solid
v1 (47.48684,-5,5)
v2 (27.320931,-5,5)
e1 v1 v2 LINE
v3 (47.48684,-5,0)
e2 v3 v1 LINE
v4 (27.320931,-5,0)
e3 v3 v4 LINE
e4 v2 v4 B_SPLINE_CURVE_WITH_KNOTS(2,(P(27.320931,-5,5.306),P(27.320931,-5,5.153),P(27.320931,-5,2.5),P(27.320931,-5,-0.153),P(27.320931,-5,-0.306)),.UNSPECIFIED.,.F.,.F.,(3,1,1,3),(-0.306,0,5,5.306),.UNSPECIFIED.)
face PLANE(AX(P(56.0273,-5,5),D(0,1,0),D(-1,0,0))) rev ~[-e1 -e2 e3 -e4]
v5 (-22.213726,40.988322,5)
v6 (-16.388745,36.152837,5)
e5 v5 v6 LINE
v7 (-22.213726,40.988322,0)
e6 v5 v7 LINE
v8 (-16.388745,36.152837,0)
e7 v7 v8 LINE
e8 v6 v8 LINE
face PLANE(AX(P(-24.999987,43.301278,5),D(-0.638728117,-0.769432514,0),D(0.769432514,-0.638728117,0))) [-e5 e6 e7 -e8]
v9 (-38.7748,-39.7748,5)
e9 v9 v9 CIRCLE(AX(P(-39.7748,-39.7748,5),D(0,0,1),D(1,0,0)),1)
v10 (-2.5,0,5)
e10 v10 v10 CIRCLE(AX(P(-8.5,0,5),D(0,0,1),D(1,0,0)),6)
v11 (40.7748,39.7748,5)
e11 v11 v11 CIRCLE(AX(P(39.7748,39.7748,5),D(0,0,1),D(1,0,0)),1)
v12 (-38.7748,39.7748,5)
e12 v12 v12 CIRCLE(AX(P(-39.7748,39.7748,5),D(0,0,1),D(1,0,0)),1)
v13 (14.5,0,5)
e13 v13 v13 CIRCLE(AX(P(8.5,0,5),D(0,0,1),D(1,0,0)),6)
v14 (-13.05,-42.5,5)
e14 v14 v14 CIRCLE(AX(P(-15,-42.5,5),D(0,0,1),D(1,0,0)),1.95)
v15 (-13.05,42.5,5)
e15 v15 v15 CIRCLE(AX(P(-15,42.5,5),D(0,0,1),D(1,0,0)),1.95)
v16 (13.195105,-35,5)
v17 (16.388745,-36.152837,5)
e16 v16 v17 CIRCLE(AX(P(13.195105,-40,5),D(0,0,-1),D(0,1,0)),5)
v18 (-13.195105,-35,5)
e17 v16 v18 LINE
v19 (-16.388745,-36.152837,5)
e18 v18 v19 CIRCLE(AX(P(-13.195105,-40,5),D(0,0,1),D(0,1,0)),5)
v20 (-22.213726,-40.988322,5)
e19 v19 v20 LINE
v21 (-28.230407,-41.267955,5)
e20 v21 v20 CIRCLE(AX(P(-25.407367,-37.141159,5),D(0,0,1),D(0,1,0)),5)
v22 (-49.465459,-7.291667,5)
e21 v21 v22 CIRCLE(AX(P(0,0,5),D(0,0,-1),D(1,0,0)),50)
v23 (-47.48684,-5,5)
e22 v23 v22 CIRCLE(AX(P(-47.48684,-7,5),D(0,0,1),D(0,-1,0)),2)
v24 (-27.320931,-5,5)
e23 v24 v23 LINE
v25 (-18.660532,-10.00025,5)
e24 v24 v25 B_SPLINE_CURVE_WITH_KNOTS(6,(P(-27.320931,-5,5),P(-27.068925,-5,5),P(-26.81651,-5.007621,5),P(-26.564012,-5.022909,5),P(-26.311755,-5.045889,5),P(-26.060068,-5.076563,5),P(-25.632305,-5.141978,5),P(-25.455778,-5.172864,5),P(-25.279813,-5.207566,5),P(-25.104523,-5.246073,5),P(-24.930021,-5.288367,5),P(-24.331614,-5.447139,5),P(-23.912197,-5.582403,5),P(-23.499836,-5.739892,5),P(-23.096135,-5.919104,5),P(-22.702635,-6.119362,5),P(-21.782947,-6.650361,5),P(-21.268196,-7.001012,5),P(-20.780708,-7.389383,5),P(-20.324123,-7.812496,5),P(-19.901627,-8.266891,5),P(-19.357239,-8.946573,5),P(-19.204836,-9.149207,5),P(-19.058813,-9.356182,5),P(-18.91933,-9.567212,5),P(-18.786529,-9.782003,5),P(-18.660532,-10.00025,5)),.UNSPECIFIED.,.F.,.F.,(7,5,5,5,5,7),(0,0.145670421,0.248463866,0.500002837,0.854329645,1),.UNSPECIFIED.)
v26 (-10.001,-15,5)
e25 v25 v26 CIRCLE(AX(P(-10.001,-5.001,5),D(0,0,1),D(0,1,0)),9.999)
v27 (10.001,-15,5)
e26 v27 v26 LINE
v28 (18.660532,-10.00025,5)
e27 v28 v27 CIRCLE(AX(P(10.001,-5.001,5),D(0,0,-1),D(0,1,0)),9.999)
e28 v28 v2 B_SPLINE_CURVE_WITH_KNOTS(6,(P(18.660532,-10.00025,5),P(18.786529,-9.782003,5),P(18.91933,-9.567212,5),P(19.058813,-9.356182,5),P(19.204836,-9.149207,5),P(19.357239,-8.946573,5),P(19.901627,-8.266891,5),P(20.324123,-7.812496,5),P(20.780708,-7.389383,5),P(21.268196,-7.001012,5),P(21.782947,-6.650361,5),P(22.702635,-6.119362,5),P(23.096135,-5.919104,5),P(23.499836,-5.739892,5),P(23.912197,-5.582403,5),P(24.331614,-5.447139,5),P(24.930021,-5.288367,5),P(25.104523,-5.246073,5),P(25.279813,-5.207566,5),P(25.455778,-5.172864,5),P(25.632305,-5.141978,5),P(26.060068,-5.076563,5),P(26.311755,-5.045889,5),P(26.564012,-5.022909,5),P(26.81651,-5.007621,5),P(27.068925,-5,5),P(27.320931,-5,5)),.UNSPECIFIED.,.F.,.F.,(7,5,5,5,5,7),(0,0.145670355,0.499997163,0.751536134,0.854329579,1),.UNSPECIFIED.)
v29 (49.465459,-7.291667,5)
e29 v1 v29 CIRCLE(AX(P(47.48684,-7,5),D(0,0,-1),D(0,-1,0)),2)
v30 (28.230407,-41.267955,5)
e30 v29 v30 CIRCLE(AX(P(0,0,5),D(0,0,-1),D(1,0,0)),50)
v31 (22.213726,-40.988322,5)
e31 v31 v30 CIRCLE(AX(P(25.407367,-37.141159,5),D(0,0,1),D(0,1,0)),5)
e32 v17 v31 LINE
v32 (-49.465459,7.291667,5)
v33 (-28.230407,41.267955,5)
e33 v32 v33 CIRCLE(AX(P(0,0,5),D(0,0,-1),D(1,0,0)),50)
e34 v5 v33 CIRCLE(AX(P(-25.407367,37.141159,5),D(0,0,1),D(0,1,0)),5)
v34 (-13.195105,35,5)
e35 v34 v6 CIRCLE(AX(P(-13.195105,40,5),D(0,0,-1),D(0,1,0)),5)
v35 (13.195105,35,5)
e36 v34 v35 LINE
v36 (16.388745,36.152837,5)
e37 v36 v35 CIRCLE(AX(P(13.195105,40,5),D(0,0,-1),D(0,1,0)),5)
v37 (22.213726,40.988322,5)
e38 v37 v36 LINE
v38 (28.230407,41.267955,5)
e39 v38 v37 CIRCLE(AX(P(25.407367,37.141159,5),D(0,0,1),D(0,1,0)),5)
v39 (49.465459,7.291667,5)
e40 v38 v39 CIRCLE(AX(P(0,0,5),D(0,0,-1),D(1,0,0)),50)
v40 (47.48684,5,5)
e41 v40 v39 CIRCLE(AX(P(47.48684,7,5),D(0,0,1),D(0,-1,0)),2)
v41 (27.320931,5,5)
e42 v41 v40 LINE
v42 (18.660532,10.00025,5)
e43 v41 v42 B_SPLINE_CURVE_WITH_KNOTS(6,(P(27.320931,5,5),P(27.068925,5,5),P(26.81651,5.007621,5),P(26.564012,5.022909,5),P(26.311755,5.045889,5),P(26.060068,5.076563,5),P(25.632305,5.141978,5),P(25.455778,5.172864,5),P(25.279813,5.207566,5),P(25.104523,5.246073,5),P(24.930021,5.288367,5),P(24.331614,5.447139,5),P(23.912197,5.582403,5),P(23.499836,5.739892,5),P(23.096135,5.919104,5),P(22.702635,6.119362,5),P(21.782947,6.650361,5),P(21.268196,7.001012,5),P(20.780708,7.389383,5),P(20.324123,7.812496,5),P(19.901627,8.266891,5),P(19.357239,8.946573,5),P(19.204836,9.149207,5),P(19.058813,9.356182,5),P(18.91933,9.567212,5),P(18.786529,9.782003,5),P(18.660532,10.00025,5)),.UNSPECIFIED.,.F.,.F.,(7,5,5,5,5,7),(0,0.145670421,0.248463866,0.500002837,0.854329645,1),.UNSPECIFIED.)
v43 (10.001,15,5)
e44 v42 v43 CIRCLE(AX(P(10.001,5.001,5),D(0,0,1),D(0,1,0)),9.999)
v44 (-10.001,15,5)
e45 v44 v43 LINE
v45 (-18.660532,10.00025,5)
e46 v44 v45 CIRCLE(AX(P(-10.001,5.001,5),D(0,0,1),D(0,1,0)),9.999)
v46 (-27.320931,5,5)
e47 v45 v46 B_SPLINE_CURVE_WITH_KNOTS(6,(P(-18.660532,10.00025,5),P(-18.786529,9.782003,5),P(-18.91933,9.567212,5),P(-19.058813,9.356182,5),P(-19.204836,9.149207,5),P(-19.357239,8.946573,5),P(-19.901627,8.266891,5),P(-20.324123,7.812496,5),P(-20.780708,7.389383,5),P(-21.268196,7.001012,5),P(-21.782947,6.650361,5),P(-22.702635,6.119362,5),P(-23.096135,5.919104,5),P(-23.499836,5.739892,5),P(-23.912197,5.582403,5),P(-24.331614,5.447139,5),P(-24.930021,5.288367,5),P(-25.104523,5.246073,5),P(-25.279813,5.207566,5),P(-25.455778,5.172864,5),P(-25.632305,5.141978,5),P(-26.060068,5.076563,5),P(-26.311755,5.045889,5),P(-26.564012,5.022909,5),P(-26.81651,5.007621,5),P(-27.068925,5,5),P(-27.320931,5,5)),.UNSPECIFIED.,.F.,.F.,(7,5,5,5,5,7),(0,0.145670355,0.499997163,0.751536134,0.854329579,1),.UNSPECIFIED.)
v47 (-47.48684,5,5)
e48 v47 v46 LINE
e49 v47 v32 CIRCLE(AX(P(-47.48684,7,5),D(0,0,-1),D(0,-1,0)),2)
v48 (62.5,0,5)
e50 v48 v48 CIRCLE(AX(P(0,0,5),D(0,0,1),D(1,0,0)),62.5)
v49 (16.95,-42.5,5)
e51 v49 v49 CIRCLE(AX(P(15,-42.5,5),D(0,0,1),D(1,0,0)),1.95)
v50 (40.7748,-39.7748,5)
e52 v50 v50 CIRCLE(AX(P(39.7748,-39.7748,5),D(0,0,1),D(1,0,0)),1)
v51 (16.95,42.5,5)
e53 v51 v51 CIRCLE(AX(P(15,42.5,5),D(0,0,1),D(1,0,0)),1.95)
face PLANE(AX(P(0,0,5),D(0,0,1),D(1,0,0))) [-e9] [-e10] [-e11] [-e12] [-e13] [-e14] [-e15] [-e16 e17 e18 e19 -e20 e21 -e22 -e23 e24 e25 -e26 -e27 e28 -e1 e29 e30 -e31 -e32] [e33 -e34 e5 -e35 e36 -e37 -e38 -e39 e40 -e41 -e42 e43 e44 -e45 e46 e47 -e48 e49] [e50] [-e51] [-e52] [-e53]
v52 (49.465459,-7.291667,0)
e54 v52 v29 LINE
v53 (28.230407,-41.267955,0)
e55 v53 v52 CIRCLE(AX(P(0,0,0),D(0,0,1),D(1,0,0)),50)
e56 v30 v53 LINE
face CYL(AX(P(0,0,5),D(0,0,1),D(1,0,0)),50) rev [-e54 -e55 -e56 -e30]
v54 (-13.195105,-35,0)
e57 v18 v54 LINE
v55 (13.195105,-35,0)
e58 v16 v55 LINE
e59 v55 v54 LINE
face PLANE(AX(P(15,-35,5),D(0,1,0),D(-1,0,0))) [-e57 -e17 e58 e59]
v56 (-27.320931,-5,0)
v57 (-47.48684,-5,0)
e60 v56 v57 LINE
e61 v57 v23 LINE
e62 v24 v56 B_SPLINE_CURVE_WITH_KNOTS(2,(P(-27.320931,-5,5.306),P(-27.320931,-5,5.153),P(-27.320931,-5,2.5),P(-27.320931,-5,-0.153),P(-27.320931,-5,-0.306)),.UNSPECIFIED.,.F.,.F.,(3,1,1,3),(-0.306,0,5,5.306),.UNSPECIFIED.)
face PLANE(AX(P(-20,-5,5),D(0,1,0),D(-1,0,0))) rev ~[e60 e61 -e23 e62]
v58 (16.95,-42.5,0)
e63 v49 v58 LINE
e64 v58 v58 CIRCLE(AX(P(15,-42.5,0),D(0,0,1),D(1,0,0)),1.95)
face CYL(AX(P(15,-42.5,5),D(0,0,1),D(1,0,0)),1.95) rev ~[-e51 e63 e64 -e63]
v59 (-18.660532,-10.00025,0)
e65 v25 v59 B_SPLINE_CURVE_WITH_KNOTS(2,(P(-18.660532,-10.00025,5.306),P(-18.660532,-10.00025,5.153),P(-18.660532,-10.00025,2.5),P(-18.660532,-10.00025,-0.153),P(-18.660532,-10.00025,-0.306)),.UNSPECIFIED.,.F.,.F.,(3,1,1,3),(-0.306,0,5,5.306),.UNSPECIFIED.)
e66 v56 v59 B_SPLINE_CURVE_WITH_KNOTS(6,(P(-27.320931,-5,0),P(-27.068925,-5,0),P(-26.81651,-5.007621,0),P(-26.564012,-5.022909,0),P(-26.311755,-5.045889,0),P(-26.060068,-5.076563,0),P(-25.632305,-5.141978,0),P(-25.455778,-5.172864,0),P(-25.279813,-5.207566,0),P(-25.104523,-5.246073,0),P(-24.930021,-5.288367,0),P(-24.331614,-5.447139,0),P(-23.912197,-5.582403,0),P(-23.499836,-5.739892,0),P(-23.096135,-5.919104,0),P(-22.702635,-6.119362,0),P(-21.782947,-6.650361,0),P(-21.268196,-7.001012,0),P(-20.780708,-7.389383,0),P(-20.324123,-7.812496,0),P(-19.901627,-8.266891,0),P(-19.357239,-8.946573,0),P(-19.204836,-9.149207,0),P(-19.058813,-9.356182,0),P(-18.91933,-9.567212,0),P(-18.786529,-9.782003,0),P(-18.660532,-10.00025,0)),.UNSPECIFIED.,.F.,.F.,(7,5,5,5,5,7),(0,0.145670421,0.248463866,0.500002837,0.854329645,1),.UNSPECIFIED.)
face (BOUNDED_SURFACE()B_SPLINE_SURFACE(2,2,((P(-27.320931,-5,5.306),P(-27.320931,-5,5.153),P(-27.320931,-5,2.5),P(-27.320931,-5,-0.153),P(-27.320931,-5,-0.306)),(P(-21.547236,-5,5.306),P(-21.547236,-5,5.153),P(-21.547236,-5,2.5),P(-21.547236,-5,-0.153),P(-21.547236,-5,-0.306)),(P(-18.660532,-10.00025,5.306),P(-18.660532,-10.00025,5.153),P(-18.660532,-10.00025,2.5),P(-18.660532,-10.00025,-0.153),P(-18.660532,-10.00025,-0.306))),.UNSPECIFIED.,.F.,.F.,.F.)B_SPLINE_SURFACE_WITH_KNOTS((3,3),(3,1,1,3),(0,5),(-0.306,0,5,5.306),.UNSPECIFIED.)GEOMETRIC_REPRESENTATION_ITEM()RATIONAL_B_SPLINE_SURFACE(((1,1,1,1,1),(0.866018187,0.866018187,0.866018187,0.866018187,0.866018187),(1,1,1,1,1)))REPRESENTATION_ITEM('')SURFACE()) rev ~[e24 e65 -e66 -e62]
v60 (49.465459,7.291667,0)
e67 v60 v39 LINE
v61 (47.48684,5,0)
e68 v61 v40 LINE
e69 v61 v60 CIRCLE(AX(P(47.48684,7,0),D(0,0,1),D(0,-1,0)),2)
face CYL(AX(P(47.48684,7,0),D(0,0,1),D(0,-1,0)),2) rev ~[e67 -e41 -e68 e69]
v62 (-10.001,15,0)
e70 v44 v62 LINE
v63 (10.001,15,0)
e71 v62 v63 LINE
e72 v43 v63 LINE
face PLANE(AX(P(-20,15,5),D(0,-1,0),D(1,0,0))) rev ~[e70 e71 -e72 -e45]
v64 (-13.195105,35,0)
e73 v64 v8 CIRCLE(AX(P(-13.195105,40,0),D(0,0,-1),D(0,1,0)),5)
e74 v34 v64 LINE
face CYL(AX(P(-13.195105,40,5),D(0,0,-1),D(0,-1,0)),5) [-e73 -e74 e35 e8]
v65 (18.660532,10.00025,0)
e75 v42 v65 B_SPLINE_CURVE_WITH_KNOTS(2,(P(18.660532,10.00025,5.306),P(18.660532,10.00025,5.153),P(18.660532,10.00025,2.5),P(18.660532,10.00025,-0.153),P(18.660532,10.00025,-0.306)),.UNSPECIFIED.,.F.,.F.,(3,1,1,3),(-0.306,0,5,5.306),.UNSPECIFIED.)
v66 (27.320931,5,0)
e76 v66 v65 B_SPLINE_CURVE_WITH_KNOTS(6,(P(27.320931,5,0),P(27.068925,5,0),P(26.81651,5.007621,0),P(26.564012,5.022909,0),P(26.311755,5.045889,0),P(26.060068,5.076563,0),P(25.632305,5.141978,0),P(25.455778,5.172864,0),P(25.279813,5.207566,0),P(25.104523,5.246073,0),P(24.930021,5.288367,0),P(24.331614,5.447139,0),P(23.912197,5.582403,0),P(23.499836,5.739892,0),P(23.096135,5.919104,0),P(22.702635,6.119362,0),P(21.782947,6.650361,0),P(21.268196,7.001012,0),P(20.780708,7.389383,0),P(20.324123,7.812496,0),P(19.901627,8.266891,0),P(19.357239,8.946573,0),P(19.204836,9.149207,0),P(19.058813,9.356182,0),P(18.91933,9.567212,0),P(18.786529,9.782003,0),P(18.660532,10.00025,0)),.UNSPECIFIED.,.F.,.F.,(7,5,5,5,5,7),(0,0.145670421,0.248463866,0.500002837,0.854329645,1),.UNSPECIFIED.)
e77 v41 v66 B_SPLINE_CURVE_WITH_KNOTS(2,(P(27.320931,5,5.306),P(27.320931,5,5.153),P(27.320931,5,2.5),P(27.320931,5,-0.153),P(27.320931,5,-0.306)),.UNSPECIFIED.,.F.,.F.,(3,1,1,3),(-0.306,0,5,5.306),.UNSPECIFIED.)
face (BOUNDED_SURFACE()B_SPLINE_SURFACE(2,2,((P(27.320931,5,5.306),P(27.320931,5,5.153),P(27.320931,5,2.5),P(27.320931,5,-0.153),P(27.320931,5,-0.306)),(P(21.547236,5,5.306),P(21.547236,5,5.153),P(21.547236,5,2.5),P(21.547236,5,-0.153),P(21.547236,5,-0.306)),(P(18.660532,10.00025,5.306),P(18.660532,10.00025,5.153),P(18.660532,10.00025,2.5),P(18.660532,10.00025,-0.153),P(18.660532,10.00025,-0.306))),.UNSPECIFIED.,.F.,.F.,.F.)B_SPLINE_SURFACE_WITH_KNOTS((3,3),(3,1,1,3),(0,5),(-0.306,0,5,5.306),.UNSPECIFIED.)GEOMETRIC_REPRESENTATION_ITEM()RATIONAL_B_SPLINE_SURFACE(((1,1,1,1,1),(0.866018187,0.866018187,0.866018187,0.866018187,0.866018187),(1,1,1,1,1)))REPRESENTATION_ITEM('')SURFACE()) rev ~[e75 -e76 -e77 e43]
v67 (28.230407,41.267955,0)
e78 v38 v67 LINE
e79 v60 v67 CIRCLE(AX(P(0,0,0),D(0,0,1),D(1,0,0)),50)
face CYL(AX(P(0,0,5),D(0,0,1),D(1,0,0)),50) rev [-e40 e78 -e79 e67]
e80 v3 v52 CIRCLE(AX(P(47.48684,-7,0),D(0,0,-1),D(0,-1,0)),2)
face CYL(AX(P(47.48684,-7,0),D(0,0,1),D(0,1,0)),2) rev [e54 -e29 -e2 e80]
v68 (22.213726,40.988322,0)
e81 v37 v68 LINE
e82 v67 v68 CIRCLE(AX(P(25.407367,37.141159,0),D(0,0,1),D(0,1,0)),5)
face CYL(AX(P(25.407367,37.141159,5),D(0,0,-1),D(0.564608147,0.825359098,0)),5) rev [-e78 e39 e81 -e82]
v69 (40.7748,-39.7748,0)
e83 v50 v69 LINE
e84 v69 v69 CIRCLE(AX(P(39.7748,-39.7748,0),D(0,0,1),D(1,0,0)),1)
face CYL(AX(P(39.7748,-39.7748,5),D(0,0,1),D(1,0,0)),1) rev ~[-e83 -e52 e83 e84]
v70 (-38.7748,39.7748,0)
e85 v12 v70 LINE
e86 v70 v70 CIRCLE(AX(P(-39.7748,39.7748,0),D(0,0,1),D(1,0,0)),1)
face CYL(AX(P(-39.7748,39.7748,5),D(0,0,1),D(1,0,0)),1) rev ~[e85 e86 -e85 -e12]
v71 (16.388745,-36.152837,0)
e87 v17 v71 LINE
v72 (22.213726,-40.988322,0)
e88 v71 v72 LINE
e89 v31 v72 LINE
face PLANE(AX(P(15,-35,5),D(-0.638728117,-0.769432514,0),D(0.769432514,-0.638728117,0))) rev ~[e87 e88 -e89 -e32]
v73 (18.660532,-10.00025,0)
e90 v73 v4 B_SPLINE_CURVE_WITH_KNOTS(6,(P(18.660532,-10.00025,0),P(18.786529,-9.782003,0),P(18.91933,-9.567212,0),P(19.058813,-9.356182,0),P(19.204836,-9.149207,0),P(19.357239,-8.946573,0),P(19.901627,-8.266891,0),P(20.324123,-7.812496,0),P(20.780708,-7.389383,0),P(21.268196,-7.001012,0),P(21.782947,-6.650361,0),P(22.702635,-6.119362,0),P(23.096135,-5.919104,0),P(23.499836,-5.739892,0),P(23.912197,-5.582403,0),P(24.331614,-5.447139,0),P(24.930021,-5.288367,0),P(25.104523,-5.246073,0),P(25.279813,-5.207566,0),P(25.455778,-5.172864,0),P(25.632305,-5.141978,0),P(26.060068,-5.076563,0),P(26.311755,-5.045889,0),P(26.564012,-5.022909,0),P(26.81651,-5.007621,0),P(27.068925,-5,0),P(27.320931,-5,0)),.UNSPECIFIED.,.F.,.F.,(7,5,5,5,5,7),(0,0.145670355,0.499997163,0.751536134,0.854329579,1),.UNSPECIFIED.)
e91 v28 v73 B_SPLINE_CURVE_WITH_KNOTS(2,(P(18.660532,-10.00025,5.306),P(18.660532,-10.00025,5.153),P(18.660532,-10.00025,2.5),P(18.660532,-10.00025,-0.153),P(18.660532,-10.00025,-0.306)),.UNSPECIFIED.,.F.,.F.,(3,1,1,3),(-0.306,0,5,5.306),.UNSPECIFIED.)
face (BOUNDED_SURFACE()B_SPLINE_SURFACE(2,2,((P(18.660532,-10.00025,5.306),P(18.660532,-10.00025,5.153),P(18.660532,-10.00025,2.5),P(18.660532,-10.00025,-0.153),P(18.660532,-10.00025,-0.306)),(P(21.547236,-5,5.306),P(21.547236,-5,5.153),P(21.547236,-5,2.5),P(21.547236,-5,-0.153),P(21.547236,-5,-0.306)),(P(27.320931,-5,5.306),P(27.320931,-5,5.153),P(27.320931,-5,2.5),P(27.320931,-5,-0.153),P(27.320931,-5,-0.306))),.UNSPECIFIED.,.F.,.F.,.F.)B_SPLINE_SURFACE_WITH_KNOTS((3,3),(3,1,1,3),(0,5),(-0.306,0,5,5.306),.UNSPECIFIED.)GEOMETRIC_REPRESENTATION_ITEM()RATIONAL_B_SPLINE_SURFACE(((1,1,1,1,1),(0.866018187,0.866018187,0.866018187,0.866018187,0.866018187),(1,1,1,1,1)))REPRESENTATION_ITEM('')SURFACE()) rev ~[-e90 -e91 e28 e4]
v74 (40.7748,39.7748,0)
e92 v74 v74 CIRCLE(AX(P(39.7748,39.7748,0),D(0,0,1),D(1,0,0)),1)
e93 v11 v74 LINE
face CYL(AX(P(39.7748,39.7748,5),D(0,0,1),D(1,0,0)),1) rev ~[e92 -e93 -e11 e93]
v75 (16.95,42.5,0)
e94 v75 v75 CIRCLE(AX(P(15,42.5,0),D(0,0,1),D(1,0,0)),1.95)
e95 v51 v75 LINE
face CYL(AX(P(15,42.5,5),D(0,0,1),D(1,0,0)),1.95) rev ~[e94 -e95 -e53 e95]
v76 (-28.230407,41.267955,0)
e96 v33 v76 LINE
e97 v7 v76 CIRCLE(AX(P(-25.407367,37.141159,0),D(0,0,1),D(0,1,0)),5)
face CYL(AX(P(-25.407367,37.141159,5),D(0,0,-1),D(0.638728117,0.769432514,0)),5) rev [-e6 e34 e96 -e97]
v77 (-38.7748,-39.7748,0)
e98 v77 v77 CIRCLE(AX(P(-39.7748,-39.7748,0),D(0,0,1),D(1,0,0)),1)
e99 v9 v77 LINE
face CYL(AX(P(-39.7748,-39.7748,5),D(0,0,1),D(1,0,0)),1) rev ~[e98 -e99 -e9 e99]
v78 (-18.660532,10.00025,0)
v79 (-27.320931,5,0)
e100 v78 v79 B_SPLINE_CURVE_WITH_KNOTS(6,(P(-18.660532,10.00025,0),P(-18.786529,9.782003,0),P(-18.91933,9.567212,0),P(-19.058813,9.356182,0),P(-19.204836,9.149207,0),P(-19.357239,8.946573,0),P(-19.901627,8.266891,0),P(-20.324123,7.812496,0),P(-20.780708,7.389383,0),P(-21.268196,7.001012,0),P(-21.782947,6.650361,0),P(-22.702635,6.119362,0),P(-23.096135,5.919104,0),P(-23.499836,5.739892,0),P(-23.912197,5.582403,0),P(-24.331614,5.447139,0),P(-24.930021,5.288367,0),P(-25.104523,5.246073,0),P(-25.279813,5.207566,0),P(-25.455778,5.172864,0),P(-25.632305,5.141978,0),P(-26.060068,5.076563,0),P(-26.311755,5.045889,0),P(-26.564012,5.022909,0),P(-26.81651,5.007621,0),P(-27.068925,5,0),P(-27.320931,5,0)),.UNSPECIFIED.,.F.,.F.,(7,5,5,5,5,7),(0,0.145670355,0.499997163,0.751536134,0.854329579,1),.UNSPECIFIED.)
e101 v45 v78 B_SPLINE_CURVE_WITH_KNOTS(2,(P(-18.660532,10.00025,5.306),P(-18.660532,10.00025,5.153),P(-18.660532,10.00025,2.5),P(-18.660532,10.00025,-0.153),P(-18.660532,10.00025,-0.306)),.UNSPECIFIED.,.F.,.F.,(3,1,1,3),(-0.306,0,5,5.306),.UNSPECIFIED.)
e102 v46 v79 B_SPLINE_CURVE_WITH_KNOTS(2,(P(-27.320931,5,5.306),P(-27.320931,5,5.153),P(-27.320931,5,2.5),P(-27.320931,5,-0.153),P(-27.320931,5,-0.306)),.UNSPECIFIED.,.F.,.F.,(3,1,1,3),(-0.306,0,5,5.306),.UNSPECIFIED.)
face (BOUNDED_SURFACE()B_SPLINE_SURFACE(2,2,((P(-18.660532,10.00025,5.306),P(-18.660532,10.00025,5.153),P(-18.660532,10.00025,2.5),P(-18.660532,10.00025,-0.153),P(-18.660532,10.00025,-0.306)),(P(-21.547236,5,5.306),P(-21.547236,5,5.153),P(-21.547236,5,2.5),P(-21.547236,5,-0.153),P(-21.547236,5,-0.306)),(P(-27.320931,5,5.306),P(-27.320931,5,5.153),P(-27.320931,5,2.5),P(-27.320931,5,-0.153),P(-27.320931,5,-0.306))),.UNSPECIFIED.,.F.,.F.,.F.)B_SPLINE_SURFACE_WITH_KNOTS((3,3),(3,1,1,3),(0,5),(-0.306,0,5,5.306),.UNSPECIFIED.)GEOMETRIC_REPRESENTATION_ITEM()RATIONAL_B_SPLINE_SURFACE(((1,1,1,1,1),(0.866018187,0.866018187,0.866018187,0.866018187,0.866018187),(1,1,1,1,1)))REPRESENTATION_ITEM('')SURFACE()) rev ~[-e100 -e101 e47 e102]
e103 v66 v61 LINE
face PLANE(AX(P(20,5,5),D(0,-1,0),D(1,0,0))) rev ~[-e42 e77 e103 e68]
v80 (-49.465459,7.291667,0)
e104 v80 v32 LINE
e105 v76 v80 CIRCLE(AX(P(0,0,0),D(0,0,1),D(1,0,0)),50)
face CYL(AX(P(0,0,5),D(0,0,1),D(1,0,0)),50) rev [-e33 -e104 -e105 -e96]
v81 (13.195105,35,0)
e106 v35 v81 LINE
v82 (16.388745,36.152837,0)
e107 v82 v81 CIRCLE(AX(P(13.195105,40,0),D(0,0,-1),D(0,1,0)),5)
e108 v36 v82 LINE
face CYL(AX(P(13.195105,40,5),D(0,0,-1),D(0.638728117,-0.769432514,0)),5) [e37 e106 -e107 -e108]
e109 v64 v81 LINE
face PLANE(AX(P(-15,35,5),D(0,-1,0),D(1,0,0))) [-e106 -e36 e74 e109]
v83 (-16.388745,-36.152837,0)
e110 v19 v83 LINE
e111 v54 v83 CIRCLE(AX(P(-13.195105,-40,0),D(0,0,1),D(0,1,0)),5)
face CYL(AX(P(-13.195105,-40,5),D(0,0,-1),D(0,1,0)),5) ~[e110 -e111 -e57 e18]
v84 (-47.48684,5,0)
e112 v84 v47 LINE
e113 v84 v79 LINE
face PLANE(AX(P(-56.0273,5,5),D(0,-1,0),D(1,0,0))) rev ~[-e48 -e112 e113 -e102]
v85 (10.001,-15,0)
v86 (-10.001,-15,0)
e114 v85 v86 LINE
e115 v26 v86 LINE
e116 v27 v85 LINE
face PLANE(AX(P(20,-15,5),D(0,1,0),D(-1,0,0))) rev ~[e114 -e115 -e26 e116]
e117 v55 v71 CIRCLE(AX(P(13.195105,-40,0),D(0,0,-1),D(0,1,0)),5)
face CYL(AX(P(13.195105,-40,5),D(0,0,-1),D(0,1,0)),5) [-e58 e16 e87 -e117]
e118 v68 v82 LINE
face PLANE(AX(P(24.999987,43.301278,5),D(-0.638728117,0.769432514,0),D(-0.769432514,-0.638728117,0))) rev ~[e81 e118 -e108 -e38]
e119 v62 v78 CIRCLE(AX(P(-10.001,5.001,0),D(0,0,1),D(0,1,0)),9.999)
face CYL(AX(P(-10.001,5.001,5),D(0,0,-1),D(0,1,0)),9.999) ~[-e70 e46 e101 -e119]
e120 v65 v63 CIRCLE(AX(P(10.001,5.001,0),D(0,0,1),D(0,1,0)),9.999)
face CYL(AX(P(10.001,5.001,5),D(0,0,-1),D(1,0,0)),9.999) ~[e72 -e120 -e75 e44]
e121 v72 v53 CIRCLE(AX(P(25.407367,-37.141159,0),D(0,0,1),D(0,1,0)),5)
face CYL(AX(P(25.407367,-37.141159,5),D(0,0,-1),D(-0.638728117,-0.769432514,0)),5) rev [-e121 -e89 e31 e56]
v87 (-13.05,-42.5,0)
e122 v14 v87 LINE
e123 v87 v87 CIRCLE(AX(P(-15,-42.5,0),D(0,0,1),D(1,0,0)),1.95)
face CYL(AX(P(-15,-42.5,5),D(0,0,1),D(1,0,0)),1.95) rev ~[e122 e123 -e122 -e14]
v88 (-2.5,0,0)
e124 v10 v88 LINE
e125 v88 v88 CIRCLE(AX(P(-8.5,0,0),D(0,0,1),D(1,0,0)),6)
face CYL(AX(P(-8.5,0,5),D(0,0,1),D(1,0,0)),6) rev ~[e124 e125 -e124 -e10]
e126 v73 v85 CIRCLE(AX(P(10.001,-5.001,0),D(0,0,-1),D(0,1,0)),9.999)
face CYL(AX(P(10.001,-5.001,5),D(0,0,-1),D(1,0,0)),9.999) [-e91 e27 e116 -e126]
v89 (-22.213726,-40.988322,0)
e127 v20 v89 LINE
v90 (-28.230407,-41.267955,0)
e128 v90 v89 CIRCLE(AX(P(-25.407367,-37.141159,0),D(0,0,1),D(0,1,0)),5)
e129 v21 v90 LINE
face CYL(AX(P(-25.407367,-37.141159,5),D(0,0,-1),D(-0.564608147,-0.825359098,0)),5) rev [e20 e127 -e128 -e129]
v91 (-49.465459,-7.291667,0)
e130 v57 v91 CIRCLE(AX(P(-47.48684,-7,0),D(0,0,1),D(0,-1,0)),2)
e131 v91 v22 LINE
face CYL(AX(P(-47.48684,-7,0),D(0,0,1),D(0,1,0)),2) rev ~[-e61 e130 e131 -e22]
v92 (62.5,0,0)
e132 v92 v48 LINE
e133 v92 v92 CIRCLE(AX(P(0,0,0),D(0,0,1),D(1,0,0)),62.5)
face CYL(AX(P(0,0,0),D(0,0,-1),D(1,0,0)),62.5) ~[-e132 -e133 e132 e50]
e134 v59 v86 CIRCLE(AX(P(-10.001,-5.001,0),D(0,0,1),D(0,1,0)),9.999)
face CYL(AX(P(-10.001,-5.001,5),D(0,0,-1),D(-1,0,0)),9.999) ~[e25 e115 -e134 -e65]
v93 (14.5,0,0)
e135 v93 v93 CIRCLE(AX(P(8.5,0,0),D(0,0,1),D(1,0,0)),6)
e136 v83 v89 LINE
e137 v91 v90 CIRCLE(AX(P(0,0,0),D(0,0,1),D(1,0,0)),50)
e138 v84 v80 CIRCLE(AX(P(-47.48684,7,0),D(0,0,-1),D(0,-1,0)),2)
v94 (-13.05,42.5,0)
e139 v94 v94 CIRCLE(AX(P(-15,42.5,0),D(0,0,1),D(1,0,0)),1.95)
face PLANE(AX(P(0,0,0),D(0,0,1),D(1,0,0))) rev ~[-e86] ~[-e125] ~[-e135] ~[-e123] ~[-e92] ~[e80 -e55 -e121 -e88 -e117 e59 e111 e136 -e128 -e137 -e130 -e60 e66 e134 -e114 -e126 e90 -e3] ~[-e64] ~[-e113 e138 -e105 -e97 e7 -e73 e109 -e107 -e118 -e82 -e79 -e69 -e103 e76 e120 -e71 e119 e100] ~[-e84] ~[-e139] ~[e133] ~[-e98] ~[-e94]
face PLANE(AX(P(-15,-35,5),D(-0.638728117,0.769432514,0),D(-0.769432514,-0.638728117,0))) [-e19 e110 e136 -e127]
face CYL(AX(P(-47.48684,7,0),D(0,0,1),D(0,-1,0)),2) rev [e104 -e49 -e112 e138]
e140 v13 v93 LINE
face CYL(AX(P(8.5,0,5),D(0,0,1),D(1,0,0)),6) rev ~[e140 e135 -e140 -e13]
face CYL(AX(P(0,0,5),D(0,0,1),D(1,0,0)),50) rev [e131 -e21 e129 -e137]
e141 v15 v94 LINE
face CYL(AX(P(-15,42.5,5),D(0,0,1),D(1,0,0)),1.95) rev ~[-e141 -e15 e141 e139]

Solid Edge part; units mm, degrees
sketch "Sketch1" plane through (0, 0, 0) normal (0, 0, 1) x (1, 0, 0)
  circle A0 centre (0, 0) radius 62.5
extrude "Protrusion1" add sketch "Sketch1" along normal blind 5
sketch "Sketch2" plane through (0, 0, 5) normal (0, 0, 1) x (1, 0, 0)
  circle A0 centre (15, -42.5) radius 1.95
  circle A1 centre (-15, -42.5) radius 1.95
  circle A2 centre (-15, 42.5) radius 1.95
  circle A3 centre (15, 42.5) radius 1.95
  dimension "D1" = 3.9
  dimension "D2" = 85
  dimension "D3" = 30
extrude "Cutout1" cut sketch "Sketch2" against normal through all
sketch "Sketch3" plane through (0, 0, 5) normal (0, 0, 1) x (1, 0, 0)
  line L0 (-15, -35) -> (-25, -43.3013)
  arc A0 (-25, -43.3013) -> (-25, 43.3013) centre (0, 0) cw
  line L1 (-25, 43.3013) -> (-15, 35)
  line L2 (-15, 35) -> (15, 35)
  line L3 (25, 43.3013) -> (15, 35)
  line L4 (15, -35) -> (25, -43.3013)
  line L5 (15, -35) -> (-15, -35)
  arc A1 (25, 43.3013) -> (25, -43.3013) centre (0, 0) cw
extrude "Cutout2" cut sketch "Sketch3" against normal through all
fillet "Round_1" radius 5 8 edges at (-15, 35, 2.5) (15, 35, 2.5) (25, 43.3013, 2.5) (25, -43.3013, 2.5) (15, -35, 2.5) (-15, -35, 2.5) (-25, -43.3013, 2.5) (-25, 43.3013, 2.5)
sketch "Sketch4" plane through (0, 0, 5) normal (0, 0, 1) x (1, 0, 0)
  circle A0 centre (-39.7748, 39.7748) radius 1
  circle A1 centre (39.7748, 39.7748) radius 1
  circle A2 centre (39.7748, -39.7748) radius 1
  circle A3 centre (-39.7748, -39.7748) radius 1
  dimension "D1" = 112.5
  dimension "D2" = 2
extrude "Cutout3" cut sketch "Sketch4" against normal through all
sketch "Sketch5" plane through (0, 0, 5) normal (0, 0, 1) x (1, 0, 0)
  line L0 (-20, -5) -> (-56.0273, -5)
  line L1 (-56.0273, -5) -> (-56.0273, 5)
  line L2 (-56.0273, 5) -> (-20, 5)
  line L3 (-20, 5) -> (-20, 15)
  line L4 (-20, 15) -> (20, 15)
  line L5 (20, 15) -> (20, 5)
  line L6 (20, 5) -> (56.0273, 5)
  line L7 (56.0273, 5) -> (56.0273, -5)
  line L8 (56.0273, -5) -> (20, -5)
  line L9 (20, -5) -> (20, -15)
  line L10 (20, -15) -> (-20, -15)
  line L11 (-20, -15) -> (-20, -5)
extrude "Protrusion2" add sketch "Sketch5" against normal up to vertex (5 mm away)
fillet "Round_4" radius 10 4 edges at (-20, -15, 2.5) (20, -15, 2.5) (20, 15, 2.5) (-20, 15, 2.5)
fillet "Round_4" radius 2 4 edges at (-49.7494, -5, 2.5) (-49.7494, 5, 2.5) (49.7494, -5, 2.5) (49.7494, 5, 2.5)
sketch "Sketch6" plane through (0, 0, 5) normal (0, 0, 1) x (1, 0, 0)
  circle A0 centre (-8.5, 0) radius 6
  circle A1 centre (8.5, 0) radius 6
  dimension "D1" = 12
  dimension "D2" = 5
extrude "Cutout4" cut sketch "Sketch6" against normal through all
fillet "Round_5" radius 10 4 edges at (20, -5, 2.5) (20, 5, 2.5) (-20, 5, 2.5) (-20, -5, 2.5)
